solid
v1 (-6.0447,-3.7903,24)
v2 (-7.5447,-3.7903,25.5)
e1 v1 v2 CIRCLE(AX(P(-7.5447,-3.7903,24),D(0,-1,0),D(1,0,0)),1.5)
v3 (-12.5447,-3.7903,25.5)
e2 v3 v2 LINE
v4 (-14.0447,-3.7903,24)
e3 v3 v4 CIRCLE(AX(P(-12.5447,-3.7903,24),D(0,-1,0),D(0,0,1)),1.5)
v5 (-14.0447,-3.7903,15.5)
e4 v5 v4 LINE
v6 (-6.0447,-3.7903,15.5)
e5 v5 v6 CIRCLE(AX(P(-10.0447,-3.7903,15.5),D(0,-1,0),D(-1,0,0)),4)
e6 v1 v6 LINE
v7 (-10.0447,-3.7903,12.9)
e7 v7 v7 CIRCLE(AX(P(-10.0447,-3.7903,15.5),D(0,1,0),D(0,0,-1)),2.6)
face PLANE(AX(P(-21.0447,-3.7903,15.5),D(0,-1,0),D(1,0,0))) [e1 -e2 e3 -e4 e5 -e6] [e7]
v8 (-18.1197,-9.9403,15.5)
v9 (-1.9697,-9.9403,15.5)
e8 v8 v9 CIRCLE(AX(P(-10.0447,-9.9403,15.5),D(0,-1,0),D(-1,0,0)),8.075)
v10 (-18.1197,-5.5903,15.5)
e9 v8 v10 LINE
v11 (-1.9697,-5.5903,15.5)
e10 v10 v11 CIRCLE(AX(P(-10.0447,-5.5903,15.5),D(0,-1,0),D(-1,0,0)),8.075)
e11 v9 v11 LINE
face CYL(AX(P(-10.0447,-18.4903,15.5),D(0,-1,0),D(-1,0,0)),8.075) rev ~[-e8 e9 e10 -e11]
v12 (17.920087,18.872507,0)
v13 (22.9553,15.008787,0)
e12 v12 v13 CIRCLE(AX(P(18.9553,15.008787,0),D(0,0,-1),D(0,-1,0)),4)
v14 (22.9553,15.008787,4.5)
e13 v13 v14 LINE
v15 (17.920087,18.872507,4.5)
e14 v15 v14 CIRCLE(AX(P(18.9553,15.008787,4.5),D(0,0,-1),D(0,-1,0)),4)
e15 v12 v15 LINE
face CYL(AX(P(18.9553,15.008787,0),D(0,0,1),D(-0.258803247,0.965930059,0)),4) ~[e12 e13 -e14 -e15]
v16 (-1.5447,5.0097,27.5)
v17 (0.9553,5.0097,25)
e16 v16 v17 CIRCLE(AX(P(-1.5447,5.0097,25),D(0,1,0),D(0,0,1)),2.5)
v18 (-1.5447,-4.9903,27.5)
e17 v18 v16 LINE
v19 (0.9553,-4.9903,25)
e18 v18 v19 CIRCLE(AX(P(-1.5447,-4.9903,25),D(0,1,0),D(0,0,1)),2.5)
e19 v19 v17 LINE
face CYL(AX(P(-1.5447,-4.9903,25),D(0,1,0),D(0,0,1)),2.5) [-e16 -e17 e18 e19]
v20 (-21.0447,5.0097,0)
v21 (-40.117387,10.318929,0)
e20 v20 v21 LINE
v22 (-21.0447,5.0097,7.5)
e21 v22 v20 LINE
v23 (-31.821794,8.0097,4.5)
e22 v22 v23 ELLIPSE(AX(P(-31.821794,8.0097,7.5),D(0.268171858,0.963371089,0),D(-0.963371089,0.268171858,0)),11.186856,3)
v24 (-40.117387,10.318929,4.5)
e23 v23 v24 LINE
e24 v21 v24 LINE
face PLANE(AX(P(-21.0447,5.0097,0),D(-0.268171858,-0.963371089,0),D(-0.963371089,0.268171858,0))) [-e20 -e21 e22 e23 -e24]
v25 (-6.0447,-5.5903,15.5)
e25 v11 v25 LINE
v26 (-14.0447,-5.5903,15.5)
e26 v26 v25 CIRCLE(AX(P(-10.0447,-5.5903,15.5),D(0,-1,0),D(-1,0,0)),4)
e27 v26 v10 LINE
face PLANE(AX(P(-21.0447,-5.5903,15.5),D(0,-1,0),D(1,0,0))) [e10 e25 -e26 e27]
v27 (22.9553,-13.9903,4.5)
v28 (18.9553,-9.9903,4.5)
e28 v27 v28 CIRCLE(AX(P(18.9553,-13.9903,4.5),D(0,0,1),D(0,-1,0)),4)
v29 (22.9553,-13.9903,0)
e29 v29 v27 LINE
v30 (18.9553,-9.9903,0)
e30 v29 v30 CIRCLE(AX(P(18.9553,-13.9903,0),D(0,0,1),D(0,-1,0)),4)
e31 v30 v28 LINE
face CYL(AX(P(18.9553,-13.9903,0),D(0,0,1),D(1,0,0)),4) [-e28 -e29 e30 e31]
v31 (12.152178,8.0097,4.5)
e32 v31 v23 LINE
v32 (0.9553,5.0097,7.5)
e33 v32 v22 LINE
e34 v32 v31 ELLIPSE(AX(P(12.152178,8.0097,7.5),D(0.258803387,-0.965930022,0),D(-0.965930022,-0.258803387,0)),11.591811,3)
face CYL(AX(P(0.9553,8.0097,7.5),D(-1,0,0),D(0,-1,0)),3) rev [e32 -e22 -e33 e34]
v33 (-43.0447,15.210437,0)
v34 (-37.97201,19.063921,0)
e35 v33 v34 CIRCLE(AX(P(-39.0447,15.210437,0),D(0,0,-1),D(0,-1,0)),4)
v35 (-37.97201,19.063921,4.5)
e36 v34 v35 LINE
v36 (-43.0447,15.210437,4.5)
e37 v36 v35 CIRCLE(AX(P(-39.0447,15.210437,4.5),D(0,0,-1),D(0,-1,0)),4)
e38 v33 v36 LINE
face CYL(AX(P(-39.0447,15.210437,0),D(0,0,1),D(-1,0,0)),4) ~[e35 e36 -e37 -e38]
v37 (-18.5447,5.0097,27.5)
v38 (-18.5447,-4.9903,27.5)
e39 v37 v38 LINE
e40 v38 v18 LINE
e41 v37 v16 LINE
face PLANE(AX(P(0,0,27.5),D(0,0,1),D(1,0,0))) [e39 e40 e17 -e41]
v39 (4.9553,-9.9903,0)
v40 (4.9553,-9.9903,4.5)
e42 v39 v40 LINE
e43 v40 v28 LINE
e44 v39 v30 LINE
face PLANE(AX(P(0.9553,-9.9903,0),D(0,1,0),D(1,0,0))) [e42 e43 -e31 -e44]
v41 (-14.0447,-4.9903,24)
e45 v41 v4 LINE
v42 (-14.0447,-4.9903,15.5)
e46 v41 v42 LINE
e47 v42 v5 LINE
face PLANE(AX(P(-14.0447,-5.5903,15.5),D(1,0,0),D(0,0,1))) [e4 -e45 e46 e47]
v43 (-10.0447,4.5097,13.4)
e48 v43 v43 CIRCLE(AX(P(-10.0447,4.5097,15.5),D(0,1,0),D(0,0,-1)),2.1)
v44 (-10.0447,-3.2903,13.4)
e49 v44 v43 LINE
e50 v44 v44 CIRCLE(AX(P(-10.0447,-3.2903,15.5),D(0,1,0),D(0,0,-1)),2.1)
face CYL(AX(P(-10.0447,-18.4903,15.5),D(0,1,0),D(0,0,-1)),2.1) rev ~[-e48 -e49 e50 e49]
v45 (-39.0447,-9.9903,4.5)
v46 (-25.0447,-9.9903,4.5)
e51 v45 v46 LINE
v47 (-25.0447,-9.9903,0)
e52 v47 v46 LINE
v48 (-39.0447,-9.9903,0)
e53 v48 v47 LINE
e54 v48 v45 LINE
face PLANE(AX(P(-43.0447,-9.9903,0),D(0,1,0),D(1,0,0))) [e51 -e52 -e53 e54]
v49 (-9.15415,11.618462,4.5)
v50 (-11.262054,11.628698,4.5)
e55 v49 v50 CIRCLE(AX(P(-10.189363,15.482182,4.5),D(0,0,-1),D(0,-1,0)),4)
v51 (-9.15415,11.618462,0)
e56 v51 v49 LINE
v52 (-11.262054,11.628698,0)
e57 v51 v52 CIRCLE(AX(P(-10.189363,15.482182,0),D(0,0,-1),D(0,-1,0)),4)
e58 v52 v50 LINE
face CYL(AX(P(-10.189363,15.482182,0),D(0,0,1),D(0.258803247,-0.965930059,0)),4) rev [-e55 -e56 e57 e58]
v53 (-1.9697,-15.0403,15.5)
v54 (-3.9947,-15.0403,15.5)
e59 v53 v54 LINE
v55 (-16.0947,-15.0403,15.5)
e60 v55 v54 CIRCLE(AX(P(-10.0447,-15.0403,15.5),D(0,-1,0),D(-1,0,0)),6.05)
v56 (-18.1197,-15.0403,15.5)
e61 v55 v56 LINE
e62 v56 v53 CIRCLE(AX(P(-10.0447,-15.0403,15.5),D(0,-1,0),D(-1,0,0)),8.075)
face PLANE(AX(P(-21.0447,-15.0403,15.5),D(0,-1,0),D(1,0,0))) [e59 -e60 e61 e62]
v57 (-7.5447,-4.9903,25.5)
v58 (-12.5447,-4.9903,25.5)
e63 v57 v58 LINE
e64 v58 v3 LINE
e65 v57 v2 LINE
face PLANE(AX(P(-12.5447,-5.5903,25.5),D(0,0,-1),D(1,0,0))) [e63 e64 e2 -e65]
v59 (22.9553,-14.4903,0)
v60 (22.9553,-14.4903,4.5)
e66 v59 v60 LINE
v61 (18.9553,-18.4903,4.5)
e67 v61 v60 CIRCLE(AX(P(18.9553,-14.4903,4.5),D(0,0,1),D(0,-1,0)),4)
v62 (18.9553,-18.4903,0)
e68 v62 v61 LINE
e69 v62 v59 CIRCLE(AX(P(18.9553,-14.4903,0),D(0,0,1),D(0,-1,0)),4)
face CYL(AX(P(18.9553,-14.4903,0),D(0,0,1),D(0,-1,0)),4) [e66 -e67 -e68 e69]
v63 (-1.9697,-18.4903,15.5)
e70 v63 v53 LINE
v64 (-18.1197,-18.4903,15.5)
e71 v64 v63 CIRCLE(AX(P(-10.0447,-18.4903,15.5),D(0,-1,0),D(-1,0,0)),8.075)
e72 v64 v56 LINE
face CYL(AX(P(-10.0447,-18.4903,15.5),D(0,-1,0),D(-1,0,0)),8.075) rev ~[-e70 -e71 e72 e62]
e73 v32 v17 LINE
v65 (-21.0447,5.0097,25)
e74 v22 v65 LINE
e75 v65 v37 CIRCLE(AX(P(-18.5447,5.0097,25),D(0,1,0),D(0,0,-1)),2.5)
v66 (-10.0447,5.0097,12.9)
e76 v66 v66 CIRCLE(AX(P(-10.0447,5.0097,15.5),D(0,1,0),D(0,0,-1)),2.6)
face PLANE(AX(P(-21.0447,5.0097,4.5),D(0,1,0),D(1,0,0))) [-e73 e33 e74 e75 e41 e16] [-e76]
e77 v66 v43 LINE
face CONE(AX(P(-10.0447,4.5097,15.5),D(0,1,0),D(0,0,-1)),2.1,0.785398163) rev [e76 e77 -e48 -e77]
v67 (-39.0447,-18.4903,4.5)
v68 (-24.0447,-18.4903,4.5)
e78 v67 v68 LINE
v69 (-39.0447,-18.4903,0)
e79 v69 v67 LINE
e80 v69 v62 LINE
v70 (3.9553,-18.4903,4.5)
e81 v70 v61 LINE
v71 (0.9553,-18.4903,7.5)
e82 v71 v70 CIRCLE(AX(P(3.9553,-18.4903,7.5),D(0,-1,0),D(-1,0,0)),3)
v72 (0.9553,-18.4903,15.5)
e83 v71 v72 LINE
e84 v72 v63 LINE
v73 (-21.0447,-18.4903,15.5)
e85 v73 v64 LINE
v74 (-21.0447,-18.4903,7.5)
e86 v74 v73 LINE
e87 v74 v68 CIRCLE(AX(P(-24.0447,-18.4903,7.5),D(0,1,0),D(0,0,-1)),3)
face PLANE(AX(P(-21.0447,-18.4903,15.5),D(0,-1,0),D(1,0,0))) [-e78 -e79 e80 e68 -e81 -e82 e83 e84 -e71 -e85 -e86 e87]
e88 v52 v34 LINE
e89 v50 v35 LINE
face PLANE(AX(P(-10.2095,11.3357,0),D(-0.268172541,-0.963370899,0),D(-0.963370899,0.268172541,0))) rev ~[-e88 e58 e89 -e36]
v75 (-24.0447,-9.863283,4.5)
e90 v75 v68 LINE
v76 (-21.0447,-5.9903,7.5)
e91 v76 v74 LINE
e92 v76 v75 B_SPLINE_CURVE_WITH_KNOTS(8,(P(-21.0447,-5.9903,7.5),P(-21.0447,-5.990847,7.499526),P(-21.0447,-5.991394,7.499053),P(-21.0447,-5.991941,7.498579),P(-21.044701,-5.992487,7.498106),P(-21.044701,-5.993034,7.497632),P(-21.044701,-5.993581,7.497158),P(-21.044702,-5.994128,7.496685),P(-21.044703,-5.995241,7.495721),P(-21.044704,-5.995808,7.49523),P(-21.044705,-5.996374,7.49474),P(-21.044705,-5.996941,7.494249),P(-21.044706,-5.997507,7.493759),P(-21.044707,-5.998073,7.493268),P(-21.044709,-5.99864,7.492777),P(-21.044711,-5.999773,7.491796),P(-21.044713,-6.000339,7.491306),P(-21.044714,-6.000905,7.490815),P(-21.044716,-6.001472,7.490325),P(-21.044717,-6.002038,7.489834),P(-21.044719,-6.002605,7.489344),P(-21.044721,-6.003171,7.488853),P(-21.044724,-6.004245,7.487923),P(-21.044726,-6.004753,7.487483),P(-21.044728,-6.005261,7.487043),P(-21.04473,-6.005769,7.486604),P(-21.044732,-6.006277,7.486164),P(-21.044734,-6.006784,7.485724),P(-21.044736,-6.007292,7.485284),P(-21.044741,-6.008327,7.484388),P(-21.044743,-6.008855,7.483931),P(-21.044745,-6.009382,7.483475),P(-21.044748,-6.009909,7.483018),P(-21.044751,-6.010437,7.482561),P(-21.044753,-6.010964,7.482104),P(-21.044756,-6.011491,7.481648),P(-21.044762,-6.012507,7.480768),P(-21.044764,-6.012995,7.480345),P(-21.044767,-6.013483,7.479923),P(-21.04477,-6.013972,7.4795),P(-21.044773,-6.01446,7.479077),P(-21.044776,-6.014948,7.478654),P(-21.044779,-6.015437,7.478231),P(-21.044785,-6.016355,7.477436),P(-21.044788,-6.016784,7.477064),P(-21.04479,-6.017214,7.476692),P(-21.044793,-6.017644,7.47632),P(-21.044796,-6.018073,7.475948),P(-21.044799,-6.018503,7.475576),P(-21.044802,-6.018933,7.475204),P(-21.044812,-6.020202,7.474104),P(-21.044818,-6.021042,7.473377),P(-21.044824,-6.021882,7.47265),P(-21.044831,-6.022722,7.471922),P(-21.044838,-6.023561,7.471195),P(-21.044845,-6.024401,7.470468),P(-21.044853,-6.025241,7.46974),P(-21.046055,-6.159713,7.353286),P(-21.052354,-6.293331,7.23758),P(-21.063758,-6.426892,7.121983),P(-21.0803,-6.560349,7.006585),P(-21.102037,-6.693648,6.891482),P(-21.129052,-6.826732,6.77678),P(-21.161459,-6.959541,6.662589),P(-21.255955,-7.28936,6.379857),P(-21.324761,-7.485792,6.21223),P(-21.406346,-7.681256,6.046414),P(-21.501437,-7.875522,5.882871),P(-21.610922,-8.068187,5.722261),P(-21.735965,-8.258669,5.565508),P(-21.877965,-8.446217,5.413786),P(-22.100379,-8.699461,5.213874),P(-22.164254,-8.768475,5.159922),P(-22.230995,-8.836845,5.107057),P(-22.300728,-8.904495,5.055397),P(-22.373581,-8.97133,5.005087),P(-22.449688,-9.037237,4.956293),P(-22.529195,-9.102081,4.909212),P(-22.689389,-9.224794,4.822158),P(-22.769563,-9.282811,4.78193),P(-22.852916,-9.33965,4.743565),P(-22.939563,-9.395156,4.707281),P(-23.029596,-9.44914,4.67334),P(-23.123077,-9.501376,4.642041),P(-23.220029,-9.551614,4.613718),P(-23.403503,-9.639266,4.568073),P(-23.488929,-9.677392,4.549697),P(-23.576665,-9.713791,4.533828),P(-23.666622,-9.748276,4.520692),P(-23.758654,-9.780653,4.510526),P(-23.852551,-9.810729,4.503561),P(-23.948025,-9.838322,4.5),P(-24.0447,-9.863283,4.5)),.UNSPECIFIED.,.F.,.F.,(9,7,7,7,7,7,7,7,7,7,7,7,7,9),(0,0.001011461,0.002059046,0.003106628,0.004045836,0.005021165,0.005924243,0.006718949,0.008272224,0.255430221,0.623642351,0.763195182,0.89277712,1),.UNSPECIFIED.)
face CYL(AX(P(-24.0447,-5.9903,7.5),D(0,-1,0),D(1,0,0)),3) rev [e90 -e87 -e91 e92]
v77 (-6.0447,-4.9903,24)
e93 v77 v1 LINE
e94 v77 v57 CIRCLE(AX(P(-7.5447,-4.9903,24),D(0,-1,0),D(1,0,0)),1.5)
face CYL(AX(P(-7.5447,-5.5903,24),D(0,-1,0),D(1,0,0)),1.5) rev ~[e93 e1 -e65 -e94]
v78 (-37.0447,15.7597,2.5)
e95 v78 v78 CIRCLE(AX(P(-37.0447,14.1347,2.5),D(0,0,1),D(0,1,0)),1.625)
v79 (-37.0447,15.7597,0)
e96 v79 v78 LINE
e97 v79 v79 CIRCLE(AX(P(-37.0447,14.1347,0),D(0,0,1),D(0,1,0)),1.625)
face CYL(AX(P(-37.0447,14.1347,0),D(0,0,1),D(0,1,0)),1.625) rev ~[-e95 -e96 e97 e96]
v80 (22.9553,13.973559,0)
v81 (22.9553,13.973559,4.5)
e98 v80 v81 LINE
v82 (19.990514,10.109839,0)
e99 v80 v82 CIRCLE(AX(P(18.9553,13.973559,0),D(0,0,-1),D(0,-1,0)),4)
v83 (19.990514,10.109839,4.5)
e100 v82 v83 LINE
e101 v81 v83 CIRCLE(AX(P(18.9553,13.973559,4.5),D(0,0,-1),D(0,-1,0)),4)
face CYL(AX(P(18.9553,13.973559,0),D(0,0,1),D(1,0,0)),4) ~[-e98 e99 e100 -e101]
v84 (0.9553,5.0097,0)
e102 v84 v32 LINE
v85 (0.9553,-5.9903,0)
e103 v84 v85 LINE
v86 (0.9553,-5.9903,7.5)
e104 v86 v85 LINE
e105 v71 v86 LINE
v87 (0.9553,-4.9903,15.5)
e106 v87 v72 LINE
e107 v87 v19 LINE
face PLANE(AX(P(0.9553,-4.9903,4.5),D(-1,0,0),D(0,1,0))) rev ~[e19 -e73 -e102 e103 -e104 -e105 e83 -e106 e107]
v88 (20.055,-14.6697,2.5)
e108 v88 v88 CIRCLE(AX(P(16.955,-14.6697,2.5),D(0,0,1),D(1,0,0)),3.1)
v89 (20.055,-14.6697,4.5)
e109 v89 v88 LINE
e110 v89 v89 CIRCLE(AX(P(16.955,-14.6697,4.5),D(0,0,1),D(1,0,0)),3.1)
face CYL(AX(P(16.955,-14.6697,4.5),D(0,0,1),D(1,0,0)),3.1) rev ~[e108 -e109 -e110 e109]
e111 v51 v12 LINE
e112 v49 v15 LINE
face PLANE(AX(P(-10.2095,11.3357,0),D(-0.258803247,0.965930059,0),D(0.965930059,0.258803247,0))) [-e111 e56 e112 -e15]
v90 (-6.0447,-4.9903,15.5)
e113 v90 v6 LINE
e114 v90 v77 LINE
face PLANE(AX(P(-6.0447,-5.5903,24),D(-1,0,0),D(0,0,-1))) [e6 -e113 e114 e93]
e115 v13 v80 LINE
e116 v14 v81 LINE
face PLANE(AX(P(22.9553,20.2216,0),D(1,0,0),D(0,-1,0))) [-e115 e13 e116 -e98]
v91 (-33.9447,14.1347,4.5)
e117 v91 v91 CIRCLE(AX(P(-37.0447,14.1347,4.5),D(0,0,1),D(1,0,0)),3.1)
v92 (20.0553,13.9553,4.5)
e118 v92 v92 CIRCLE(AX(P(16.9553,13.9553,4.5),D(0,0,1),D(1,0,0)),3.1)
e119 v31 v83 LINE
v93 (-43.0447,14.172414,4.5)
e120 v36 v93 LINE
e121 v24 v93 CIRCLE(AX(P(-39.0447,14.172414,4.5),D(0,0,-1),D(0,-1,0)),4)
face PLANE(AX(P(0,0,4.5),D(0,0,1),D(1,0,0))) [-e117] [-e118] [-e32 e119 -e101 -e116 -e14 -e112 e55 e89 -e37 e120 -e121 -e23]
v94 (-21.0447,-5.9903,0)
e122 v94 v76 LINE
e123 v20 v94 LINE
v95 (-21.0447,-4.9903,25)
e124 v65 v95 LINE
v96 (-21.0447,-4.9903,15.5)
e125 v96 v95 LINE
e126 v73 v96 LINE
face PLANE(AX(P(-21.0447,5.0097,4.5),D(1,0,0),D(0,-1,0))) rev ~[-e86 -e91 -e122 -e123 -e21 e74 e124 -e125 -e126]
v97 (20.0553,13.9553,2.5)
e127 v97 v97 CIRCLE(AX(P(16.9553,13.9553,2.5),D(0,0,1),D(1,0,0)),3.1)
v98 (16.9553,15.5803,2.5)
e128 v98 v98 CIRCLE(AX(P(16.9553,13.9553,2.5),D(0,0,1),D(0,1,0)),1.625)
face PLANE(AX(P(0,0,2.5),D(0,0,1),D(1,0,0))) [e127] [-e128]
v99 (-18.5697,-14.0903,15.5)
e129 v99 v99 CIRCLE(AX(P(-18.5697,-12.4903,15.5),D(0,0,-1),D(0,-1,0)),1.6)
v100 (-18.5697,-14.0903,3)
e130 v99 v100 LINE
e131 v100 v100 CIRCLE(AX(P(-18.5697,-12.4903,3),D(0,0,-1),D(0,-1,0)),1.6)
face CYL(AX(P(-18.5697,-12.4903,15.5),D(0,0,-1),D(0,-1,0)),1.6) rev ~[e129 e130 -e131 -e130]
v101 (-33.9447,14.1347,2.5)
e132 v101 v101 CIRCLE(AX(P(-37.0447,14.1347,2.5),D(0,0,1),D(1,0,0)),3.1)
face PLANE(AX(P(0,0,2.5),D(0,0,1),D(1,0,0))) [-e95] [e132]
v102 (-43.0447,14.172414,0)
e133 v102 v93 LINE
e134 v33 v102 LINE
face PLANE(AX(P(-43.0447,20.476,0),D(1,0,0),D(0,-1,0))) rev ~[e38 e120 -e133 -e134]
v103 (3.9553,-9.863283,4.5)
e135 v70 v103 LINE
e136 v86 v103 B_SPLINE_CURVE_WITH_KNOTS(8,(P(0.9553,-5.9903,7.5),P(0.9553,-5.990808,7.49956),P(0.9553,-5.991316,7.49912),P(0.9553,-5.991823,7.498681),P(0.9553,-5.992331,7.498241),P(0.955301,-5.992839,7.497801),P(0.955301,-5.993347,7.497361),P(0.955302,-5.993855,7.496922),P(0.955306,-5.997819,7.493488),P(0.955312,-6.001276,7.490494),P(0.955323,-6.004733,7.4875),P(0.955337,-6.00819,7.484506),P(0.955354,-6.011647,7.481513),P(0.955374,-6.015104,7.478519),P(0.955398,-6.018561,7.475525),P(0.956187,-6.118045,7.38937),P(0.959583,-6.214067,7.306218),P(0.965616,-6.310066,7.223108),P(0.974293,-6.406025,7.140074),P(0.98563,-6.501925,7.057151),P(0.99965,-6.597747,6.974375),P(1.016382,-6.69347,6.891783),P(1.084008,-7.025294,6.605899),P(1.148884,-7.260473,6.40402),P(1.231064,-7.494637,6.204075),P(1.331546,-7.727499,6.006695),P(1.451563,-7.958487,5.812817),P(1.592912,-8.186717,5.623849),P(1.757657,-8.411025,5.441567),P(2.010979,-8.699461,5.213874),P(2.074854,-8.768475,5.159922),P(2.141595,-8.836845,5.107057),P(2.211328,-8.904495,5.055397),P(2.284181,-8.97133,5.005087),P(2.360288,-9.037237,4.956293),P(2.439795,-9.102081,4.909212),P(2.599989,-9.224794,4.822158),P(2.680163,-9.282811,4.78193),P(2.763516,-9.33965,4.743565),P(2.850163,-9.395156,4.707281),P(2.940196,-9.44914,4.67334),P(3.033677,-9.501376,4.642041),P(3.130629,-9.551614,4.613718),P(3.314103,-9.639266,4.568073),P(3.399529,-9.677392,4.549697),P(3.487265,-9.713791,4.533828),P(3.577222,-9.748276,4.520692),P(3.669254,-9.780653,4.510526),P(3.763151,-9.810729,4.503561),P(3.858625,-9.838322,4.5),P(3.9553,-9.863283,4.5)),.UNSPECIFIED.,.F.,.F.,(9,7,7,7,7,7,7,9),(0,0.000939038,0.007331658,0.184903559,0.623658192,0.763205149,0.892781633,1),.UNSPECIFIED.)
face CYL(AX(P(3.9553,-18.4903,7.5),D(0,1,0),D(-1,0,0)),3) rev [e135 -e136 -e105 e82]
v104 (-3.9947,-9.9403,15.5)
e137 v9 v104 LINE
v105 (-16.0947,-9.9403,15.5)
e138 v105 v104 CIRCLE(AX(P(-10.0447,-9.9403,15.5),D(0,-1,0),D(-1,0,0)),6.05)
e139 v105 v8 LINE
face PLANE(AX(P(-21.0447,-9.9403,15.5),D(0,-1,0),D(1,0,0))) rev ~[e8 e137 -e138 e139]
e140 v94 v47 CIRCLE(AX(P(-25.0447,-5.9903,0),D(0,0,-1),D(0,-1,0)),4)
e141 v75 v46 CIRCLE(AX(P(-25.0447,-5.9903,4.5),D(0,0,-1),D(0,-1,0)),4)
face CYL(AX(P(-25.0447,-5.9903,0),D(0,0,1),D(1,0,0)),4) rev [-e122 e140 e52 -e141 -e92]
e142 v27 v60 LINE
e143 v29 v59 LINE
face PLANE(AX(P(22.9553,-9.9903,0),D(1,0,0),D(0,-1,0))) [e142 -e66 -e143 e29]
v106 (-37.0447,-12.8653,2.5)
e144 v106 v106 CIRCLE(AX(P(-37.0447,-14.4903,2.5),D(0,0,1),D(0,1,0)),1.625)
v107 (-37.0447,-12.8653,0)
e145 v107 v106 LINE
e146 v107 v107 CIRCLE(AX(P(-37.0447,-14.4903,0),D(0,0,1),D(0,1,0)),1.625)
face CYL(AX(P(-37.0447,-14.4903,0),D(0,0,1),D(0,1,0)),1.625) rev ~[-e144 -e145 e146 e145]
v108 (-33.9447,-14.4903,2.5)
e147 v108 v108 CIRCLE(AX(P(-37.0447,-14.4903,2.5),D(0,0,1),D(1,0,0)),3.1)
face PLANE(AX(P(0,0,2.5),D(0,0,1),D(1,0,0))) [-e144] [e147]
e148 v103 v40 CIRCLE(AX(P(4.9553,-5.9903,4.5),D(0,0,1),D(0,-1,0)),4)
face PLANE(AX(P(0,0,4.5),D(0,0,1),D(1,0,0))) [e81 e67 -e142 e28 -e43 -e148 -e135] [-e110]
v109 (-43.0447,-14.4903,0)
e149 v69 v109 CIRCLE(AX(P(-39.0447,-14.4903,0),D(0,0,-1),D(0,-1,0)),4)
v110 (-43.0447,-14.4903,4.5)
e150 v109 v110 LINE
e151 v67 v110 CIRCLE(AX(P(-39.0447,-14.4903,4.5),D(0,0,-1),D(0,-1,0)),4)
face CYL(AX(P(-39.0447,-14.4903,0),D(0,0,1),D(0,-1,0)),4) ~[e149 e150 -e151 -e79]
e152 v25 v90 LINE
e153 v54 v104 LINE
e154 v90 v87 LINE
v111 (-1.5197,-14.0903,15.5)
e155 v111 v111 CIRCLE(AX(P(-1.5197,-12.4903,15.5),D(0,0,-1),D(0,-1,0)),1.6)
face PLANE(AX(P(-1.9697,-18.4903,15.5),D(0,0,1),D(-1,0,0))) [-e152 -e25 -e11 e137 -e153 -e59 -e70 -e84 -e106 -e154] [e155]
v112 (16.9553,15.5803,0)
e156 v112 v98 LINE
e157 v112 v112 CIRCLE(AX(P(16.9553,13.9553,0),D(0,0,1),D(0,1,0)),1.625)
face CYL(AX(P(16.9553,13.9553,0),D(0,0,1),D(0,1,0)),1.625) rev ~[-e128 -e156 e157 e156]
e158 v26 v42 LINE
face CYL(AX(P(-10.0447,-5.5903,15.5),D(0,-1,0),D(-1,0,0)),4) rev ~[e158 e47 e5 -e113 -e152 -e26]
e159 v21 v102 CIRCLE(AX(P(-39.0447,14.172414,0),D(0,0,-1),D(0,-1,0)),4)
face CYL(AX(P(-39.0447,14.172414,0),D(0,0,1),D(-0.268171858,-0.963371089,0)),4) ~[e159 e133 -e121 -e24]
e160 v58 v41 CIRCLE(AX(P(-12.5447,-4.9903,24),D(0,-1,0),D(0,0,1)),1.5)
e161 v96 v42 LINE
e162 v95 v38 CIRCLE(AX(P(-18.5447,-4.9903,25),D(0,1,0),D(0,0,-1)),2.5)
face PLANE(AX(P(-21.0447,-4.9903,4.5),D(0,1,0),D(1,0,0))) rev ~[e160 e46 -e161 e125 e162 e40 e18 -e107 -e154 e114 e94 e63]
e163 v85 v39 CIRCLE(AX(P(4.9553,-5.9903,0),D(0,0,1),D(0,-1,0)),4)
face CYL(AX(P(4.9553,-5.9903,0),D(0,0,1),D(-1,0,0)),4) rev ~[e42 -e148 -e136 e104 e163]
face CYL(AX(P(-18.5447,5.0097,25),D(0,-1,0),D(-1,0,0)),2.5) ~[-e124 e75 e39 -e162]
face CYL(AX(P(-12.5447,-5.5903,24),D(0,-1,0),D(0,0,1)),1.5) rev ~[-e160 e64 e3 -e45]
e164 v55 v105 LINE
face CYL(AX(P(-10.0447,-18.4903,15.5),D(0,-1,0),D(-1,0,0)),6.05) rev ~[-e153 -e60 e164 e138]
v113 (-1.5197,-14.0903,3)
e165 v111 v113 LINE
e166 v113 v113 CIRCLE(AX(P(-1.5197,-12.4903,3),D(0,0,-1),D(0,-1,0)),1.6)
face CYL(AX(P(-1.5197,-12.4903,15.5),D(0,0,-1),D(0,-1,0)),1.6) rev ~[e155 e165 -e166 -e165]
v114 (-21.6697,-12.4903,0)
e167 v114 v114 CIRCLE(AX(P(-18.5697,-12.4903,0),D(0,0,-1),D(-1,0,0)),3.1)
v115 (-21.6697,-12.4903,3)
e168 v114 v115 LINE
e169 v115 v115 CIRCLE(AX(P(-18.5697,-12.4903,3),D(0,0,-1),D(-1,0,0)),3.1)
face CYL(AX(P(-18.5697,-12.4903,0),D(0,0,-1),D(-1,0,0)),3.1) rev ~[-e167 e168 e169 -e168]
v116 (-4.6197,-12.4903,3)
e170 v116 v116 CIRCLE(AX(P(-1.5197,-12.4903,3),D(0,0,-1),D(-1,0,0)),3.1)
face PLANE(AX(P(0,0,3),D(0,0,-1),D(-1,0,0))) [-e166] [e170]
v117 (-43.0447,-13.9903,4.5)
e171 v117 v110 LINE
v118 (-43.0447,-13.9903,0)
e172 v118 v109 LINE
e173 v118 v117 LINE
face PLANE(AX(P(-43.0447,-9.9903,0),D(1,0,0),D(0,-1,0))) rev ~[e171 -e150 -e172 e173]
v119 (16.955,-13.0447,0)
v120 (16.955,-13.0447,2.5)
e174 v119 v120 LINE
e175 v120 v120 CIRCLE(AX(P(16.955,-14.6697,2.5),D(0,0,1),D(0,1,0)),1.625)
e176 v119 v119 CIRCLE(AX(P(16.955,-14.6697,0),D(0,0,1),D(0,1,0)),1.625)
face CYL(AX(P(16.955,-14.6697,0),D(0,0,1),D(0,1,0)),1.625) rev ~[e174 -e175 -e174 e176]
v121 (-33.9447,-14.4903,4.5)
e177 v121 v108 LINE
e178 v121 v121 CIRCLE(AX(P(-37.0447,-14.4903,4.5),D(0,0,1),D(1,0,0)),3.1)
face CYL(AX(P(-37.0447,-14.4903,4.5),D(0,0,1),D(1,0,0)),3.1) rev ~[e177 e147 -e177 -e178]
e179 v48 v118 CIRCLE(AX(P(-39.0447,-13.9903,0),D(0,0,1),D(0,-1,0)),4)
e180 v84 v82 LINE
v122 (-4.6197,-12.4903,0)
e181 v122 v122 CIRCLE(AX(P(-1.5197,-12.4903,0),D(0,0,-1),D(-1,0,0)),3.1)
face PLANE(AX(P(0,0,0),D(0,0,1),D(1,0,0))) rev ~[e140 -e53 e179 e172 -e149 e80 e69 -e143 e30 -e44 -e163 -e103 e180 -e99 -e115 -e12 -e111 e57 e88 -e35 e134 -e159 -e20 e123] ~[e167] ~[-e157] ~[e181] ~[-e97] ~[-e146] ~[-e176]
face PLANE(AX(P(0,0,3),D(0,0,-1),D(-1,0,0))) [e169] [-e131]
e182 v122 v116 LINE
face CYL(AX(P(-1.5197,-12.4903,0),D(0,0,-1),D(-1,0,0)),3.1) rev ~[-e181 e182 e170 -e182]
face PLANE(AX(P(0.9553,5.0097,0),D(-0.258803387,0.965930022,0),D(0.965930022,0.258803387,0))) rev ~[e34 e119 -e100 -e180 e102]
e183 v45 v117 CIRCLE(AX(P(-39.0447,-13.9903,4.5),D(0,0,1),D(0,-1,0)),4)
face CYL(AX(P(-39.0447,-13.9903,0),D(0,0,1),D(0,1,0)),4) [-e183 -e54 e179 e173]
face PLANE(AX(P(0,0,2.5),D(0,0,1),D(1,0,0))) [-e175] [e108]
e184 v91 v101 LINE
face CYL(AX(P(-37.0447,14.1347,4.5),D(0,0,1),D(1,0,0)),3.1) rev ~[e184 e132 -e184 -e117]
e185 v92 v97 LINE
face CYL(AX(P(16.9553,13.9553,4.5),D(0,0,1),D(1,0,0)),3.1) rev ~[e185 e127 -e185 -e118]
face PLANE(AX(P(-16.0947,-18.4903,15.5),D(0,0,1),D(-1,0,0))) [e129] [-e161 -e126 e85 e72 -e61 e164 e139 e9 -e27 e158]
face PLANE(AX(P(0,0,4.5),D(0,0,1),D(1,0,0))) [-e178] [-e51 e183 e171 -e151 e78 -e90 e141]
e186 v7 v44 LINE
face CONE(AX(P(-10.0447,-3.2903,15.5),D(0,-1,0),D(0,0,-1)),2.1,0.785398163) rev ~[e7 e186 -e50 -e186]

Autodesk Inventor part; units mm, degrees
ref_plane "YZ Plane" through (0, 0, 0) normal (1, 0, 0) x (0, 1, 0)
ref_plane "XZ Plane" through (0, 0, 0) normal (0, 1, 0) x (-1, 0, 0)
ref_plane "XY Plane" through (0, 0, 0) normal (0, 0, 1) x (1, 0, 0)
sketch "Szkic1" plane through (0, 0, 0) normal (0, 0, 1) x (1, 0, 0)
  line L0 (-43.0447, 20.476) -> (-43.0447, -18.4903)
  line L1 (22.9553, 20.2216) -> (22.9553, -18.4903)
  line L2 (-21.0447, 5.0097) -> (-21.0447, -9.9903)
  line L3 (0.9553, 5.0097) -> (0.9553, -9.9903)
  line L4 (-43.0447, -18.4903) -> (22.9553, -18.4903)
  line L5 (-43.0447, -9.9903) -> (-21.0447, -9.9903)
  line L6 (0.9553, -9.9903) -> (22.9553, -9.9903)
  line L7 (-21.0447, 5.0097) -> (0.9553, 5.0097)
  line L8 (-21.0447, 5.0097) -> (-43.0447, 11.1338)
  line L9 (-10.2095, 11.3357) -> (-43.0447, 20.476)
  line L10 (0.9553, 5.0097) -> (22.9553, 10.9042)
  line L11 (-10.2095, 11.3357) -> (22.9553, 20.2216)
  point P0 (0, 0)
  point P1 (-37.0447, -14.4903)
  point P2 (16.955, -14.6697)
  point P3 (-37.0447, 14.1347)
  point P4 (16.9553, 13.9553)
  dimension "d0" = 66
  dimension "d1" = 54
  dimension "d2" = 6
  dimension "d3" = 54
  dimension "d4" = 6
  dimension "d5" = 28.625
  dimension "d6" = 22
  dimension "d7" = 22
  dimension "d8" = 4
  dimension "d10" = 23.5
  dimension "d11" = 4.5
  dimension "d12" = 9
  dimension "d13" = 28.625
  dimension "d14" = 4.5
  dimension "d15" = 9
extrude "Wyciągnięcie proste1" add sketch "Szkic1" along normal blind 4.5 contours L9 L11 L1 L10 L7 L8 L0 | L5 L2 L7 L3 L6 L1 L4 L0
hole "Otwór1" at (-37.0447, -14.4903, 0) at (16.955, -14.6697, 0) at (-37.0447, 14.1347, 0) at (16.9553, 13.9553, 0) direction (0, 0, 1) diameter 3.25 end through all
sketch "Szkic2" plane through (0, 0, 4.5) normal (0, 0, 1) x (1, 0, 0)
  line L0 (-21.0447, 5.0097) -> (-21.0447, -9.9903) projected
  line L1 (-21.0447, 5.0097) -> (0.7211, 5.0097)
  circle A0 centre (-37.0447, 14.1347) radius 1.625 projected
  circle A1 centre (-37.0447, -14.4903) radius 1.625 projected
  circle A2 centre (16.955, -14.6697) radius 1.625 projected
  circle A3 centre (16.9553, 13.9553) radius 1.625 projected
  line L2 (-43.0447, 20.476) -> (-43.0447, 11.1338) projected
  line L3 (-43.0447, 11.1338) -> (-21.0447, 5.0097) projected
  line L4 (-21.0447, 5.0097) -> (-21.0447, -9.9903) projected
  line L5 (-21.0447, -9.9903) -> (-43.0447, -9.9903) projected
  line L6 (-43.0447, -9.9903) -> (-43.0447, -18.4903) projected
  line L7 (-43.0447, -18.4903) -> (22.9553, -18.4903) projected
  line L8 (22.9553, -18.4903) -> (22.9553, -9.9903) projected
  line L9 (22.9553, -9.9903) -> (0.9553, -9.9903) projected
  line L10 (0.9553, -9.9903) -> (0.9553, 5.0097) projected
  line L11 (0.9553, 5.0097) -> (22.9553, 10.9042) projected
  line L12 (22.9553, 10.9042) -> (22.9553, 20.2216) projected
  line L13 (22.9553, 20.2216) -> (-10.2095, 11.3357) projected
  line L14 (-10.2095, 11.3357) -> (-43.0447, 20.476) projected
  line L15 (-21.0447, -4.9903) -> (0.9553, -4.9903)
  line L16 (-43.0447, -18.4903) -> (22.9553, -18.4903) projected
  line L17 (-21.0447, -4.9903) -> (0.9553, -4.9903)
  line L18 (0.9553, -4.9903) -> (0.9553, -18.4903)
  line L19 (0.9553, -18.4903) -> (-21.0447, -18.4903)
  line L20 (-21.0447, -18.4903) -> (-21.0447, -4.9903)
  line L21 (-21.0447, 5.0097) -> (0.9553, 5.0097)
  line L22 (0.9553, 5.0097) -> (0.9553, -4.9903)
  line L23 (0.9553, -4.9903) -> (-21.0447, -4.9903)
  line L24 (-21.0447, -4.9903) -> (-21.0447, 5.0097)
  circle A4 centre (-37.0447, 14.1347) radius 3.1
  circle A5 centre (16.9553, 13.9553) radius 3.1
  circle A6 centre (16.955, -14.6697) radius 3.1
  circle A7 centre (-37.0447, -14.4903) radius 3.1
  point P0 (0, 0)
  dimension "d25" = 13.5
  dimension "d31" = 6.2
  dimension "d32" = 6.2
  dimension "d33" = 6.2
  dimension "d34" = 6.2
extrude "Wyciągnięcie proste2" add sketch "Szkic2" along normal blind 11 contours L15 L10 L18 L7 L20 L0
extrude "Wyciągnięcie proste3" add sketch "Szkic2" along normal blind 23 contours L1 L21 L10 L15 L0
fillet "Zaokrąglenie1" radius 4 11 edges at (22.9553, 10.9042, 2.25) (22.9553, 20.2216, 2.25) (-10.2095, 11.3357, 2.25) (-43.0447, 20.476, 2.25) (-43.0447, 11.1338, 2.25) (0.9553, -9.9903, 2.25) (22.9553, -9.9903, 2.25) (22.9553, -18.4903, 2.25) (-43.0447, -18.4903, 2.25) (-43.0447, -9.9903, 2.25) (-21.0447, -9.9903, 2.25)
extrude "Wyciągnięcie proste4" cut sketch "Szkic2" against normal blind 2 contours A4 | A5 | A6 | A7
fillet "Zaokrąglenie2" radius 3 3 edges at (-10.0447, 5.0097, 4.5) (-21.0447, -12.2403, 4.5) (0.9553, -12.2403, 4.5)
fillet "Zaokrąglenie3" radius 2.5 2 edges at (-21.0447, 0.0097, 27.5) (0.9553, 0.0097, 27.5)
sketch "Szkic3" plane through (-21.0447, -18.4903, 15.5) normal (0, -1, 0) x (1, 0, 0)
  line L0 (22, 0) -> (0, 0) projected
  line L1 (0, -8) -> (0, 0) projected
  arc A0 (2.925, 0) -> (19.075, 0) centre (11, 0) ccw
  arc A1 (4.95, 0) -> (17.05, 0) centre (11, 0) ccw
  point P0 (21.0447, -15.5)
  dimension "d39" = 11
  dimension "d48" = 16.15
  dimension "d51" = 12.1
hole "Otwór2" at (-10.0447, -18.4903, 15.5) direction (0, 1, 0) diameter 4.2 end through all
extrude "Wyciągnięcie proste5" cut sketch "Szkic3" against normal blind 12.9
extrude "Wyciągnięcie proste6" add sketch "Szkic3" against normal blind 8.55 contours A0 L0 A1
extrude "Wyciągnięcie proste7" cut sketch "Szkic3" against normal blind 3.45 contours A0 L0 A1
sketch "Szkic4" plane through (0, 0, 15.5) normal (0, 0, 1) x (1, 0, 0)
  line L0 (-3.9947, -15.0403) -> (-1.9697, -15.0403) projected
  line L1 (-3.9947, -9.9403) -> (-1.9697, -9.9403) projected
  line L2 (0.9553, -18.4903) -> (0.9553, -4.9903) projected
  line L3 (-3.9947, -15.0403) -> (-3.9947, -9.9403) projected
  line L4 (-18.1197, -9.9403) -> (-16.0947, -9.9403) projected
  line L5 (-21.0447, -4.9903) -> (-21.0447, -18.4903) projected
  point P0 (0, 0)
  point P1 (-18.5697, -12.4903)
  point P2 (-1.5197, -12.4903)
  dimension "d56" = 5.1
  dimension "d57" = 4.95
  dimension "d58" = 2.475
  dimension "d59" = 2.55
  dimension "d60" = 2.55
  dimension "d61" = 2.475
hole "Otwór3" at (-18.5697, -12.4903, 15.5) at (-1.5197, -12.4903, 15.5) direction (0, 0, -1) diameter 3.2 end through all
sketch "Szkic5" plane through (0, 0, 0) normal (0, 0, -1) x (-1, 0, 0)
  circle A0 centre (18.5697, -12.4903) radius 1.6 projected
  circle A1 centre (1.5197, -12.4903) radius 1.6 projected
  circle A2 centre (18.5697, -12.4903) radius 3.1
  circle A3 centre (1.5197, -12.4903) radius 3.1
  point P0 (0, 0)
  dimension "d69" = 6.2
  dimension "d70" = 6.2
extrude "Wyciągnięcie proste8" cut sketch "Szkic5" against normal blind 3
sketch "Szkic6" plane through (-21.0447, -5.5903, 15.5) normal (0, -1, 0) x (1, 0, 0)
  arc A0 (7, 0) -> (15, 0) centre (11, 0) ccw
  line L0 (7, 0) -> (7, 8.5)
  line L1 (8.5, 10) -> (13.5, 10)
  line L2 (15, 8.5) -> (15, 0)
  arc A1 (8.9, 0) -> (13.1, 0) centre (11, 0) ccw projected
  arc A2 (8.5, 10) -> (7, 8.5) centre (8.5, 8.5) ccw
  arc A3 (15, 8.5) -> (13.5, 10) centre (13.5, 8.5) ccw
  point P0 (21.0447, -15.5)
  point P1 (7, 10)
  dimension "d73" = 8
  dimension "d74" = 10
  dimension "d75" = 1.5
extrude "Wyciągnięcie proste9" cut sketch "Szkic6" against normal blind 1.8
chamfer "Faza1" distance 0.5 angle 45 2 edges at (-10.0447, 5.0097, 17.6) (-10.0447, -3.7903, 17.6)
equation "\"d13\" = d5"
equation "\"d58\" = 0.5 * d57"
equation "\"d59\" = 0.5 * d56"
equation "\"d60\" = d59"
equation "\"d61\" = d58"
equation "\"d9\" = d8"
properties part number "3DP_ABS_E3DV6_Mount"
